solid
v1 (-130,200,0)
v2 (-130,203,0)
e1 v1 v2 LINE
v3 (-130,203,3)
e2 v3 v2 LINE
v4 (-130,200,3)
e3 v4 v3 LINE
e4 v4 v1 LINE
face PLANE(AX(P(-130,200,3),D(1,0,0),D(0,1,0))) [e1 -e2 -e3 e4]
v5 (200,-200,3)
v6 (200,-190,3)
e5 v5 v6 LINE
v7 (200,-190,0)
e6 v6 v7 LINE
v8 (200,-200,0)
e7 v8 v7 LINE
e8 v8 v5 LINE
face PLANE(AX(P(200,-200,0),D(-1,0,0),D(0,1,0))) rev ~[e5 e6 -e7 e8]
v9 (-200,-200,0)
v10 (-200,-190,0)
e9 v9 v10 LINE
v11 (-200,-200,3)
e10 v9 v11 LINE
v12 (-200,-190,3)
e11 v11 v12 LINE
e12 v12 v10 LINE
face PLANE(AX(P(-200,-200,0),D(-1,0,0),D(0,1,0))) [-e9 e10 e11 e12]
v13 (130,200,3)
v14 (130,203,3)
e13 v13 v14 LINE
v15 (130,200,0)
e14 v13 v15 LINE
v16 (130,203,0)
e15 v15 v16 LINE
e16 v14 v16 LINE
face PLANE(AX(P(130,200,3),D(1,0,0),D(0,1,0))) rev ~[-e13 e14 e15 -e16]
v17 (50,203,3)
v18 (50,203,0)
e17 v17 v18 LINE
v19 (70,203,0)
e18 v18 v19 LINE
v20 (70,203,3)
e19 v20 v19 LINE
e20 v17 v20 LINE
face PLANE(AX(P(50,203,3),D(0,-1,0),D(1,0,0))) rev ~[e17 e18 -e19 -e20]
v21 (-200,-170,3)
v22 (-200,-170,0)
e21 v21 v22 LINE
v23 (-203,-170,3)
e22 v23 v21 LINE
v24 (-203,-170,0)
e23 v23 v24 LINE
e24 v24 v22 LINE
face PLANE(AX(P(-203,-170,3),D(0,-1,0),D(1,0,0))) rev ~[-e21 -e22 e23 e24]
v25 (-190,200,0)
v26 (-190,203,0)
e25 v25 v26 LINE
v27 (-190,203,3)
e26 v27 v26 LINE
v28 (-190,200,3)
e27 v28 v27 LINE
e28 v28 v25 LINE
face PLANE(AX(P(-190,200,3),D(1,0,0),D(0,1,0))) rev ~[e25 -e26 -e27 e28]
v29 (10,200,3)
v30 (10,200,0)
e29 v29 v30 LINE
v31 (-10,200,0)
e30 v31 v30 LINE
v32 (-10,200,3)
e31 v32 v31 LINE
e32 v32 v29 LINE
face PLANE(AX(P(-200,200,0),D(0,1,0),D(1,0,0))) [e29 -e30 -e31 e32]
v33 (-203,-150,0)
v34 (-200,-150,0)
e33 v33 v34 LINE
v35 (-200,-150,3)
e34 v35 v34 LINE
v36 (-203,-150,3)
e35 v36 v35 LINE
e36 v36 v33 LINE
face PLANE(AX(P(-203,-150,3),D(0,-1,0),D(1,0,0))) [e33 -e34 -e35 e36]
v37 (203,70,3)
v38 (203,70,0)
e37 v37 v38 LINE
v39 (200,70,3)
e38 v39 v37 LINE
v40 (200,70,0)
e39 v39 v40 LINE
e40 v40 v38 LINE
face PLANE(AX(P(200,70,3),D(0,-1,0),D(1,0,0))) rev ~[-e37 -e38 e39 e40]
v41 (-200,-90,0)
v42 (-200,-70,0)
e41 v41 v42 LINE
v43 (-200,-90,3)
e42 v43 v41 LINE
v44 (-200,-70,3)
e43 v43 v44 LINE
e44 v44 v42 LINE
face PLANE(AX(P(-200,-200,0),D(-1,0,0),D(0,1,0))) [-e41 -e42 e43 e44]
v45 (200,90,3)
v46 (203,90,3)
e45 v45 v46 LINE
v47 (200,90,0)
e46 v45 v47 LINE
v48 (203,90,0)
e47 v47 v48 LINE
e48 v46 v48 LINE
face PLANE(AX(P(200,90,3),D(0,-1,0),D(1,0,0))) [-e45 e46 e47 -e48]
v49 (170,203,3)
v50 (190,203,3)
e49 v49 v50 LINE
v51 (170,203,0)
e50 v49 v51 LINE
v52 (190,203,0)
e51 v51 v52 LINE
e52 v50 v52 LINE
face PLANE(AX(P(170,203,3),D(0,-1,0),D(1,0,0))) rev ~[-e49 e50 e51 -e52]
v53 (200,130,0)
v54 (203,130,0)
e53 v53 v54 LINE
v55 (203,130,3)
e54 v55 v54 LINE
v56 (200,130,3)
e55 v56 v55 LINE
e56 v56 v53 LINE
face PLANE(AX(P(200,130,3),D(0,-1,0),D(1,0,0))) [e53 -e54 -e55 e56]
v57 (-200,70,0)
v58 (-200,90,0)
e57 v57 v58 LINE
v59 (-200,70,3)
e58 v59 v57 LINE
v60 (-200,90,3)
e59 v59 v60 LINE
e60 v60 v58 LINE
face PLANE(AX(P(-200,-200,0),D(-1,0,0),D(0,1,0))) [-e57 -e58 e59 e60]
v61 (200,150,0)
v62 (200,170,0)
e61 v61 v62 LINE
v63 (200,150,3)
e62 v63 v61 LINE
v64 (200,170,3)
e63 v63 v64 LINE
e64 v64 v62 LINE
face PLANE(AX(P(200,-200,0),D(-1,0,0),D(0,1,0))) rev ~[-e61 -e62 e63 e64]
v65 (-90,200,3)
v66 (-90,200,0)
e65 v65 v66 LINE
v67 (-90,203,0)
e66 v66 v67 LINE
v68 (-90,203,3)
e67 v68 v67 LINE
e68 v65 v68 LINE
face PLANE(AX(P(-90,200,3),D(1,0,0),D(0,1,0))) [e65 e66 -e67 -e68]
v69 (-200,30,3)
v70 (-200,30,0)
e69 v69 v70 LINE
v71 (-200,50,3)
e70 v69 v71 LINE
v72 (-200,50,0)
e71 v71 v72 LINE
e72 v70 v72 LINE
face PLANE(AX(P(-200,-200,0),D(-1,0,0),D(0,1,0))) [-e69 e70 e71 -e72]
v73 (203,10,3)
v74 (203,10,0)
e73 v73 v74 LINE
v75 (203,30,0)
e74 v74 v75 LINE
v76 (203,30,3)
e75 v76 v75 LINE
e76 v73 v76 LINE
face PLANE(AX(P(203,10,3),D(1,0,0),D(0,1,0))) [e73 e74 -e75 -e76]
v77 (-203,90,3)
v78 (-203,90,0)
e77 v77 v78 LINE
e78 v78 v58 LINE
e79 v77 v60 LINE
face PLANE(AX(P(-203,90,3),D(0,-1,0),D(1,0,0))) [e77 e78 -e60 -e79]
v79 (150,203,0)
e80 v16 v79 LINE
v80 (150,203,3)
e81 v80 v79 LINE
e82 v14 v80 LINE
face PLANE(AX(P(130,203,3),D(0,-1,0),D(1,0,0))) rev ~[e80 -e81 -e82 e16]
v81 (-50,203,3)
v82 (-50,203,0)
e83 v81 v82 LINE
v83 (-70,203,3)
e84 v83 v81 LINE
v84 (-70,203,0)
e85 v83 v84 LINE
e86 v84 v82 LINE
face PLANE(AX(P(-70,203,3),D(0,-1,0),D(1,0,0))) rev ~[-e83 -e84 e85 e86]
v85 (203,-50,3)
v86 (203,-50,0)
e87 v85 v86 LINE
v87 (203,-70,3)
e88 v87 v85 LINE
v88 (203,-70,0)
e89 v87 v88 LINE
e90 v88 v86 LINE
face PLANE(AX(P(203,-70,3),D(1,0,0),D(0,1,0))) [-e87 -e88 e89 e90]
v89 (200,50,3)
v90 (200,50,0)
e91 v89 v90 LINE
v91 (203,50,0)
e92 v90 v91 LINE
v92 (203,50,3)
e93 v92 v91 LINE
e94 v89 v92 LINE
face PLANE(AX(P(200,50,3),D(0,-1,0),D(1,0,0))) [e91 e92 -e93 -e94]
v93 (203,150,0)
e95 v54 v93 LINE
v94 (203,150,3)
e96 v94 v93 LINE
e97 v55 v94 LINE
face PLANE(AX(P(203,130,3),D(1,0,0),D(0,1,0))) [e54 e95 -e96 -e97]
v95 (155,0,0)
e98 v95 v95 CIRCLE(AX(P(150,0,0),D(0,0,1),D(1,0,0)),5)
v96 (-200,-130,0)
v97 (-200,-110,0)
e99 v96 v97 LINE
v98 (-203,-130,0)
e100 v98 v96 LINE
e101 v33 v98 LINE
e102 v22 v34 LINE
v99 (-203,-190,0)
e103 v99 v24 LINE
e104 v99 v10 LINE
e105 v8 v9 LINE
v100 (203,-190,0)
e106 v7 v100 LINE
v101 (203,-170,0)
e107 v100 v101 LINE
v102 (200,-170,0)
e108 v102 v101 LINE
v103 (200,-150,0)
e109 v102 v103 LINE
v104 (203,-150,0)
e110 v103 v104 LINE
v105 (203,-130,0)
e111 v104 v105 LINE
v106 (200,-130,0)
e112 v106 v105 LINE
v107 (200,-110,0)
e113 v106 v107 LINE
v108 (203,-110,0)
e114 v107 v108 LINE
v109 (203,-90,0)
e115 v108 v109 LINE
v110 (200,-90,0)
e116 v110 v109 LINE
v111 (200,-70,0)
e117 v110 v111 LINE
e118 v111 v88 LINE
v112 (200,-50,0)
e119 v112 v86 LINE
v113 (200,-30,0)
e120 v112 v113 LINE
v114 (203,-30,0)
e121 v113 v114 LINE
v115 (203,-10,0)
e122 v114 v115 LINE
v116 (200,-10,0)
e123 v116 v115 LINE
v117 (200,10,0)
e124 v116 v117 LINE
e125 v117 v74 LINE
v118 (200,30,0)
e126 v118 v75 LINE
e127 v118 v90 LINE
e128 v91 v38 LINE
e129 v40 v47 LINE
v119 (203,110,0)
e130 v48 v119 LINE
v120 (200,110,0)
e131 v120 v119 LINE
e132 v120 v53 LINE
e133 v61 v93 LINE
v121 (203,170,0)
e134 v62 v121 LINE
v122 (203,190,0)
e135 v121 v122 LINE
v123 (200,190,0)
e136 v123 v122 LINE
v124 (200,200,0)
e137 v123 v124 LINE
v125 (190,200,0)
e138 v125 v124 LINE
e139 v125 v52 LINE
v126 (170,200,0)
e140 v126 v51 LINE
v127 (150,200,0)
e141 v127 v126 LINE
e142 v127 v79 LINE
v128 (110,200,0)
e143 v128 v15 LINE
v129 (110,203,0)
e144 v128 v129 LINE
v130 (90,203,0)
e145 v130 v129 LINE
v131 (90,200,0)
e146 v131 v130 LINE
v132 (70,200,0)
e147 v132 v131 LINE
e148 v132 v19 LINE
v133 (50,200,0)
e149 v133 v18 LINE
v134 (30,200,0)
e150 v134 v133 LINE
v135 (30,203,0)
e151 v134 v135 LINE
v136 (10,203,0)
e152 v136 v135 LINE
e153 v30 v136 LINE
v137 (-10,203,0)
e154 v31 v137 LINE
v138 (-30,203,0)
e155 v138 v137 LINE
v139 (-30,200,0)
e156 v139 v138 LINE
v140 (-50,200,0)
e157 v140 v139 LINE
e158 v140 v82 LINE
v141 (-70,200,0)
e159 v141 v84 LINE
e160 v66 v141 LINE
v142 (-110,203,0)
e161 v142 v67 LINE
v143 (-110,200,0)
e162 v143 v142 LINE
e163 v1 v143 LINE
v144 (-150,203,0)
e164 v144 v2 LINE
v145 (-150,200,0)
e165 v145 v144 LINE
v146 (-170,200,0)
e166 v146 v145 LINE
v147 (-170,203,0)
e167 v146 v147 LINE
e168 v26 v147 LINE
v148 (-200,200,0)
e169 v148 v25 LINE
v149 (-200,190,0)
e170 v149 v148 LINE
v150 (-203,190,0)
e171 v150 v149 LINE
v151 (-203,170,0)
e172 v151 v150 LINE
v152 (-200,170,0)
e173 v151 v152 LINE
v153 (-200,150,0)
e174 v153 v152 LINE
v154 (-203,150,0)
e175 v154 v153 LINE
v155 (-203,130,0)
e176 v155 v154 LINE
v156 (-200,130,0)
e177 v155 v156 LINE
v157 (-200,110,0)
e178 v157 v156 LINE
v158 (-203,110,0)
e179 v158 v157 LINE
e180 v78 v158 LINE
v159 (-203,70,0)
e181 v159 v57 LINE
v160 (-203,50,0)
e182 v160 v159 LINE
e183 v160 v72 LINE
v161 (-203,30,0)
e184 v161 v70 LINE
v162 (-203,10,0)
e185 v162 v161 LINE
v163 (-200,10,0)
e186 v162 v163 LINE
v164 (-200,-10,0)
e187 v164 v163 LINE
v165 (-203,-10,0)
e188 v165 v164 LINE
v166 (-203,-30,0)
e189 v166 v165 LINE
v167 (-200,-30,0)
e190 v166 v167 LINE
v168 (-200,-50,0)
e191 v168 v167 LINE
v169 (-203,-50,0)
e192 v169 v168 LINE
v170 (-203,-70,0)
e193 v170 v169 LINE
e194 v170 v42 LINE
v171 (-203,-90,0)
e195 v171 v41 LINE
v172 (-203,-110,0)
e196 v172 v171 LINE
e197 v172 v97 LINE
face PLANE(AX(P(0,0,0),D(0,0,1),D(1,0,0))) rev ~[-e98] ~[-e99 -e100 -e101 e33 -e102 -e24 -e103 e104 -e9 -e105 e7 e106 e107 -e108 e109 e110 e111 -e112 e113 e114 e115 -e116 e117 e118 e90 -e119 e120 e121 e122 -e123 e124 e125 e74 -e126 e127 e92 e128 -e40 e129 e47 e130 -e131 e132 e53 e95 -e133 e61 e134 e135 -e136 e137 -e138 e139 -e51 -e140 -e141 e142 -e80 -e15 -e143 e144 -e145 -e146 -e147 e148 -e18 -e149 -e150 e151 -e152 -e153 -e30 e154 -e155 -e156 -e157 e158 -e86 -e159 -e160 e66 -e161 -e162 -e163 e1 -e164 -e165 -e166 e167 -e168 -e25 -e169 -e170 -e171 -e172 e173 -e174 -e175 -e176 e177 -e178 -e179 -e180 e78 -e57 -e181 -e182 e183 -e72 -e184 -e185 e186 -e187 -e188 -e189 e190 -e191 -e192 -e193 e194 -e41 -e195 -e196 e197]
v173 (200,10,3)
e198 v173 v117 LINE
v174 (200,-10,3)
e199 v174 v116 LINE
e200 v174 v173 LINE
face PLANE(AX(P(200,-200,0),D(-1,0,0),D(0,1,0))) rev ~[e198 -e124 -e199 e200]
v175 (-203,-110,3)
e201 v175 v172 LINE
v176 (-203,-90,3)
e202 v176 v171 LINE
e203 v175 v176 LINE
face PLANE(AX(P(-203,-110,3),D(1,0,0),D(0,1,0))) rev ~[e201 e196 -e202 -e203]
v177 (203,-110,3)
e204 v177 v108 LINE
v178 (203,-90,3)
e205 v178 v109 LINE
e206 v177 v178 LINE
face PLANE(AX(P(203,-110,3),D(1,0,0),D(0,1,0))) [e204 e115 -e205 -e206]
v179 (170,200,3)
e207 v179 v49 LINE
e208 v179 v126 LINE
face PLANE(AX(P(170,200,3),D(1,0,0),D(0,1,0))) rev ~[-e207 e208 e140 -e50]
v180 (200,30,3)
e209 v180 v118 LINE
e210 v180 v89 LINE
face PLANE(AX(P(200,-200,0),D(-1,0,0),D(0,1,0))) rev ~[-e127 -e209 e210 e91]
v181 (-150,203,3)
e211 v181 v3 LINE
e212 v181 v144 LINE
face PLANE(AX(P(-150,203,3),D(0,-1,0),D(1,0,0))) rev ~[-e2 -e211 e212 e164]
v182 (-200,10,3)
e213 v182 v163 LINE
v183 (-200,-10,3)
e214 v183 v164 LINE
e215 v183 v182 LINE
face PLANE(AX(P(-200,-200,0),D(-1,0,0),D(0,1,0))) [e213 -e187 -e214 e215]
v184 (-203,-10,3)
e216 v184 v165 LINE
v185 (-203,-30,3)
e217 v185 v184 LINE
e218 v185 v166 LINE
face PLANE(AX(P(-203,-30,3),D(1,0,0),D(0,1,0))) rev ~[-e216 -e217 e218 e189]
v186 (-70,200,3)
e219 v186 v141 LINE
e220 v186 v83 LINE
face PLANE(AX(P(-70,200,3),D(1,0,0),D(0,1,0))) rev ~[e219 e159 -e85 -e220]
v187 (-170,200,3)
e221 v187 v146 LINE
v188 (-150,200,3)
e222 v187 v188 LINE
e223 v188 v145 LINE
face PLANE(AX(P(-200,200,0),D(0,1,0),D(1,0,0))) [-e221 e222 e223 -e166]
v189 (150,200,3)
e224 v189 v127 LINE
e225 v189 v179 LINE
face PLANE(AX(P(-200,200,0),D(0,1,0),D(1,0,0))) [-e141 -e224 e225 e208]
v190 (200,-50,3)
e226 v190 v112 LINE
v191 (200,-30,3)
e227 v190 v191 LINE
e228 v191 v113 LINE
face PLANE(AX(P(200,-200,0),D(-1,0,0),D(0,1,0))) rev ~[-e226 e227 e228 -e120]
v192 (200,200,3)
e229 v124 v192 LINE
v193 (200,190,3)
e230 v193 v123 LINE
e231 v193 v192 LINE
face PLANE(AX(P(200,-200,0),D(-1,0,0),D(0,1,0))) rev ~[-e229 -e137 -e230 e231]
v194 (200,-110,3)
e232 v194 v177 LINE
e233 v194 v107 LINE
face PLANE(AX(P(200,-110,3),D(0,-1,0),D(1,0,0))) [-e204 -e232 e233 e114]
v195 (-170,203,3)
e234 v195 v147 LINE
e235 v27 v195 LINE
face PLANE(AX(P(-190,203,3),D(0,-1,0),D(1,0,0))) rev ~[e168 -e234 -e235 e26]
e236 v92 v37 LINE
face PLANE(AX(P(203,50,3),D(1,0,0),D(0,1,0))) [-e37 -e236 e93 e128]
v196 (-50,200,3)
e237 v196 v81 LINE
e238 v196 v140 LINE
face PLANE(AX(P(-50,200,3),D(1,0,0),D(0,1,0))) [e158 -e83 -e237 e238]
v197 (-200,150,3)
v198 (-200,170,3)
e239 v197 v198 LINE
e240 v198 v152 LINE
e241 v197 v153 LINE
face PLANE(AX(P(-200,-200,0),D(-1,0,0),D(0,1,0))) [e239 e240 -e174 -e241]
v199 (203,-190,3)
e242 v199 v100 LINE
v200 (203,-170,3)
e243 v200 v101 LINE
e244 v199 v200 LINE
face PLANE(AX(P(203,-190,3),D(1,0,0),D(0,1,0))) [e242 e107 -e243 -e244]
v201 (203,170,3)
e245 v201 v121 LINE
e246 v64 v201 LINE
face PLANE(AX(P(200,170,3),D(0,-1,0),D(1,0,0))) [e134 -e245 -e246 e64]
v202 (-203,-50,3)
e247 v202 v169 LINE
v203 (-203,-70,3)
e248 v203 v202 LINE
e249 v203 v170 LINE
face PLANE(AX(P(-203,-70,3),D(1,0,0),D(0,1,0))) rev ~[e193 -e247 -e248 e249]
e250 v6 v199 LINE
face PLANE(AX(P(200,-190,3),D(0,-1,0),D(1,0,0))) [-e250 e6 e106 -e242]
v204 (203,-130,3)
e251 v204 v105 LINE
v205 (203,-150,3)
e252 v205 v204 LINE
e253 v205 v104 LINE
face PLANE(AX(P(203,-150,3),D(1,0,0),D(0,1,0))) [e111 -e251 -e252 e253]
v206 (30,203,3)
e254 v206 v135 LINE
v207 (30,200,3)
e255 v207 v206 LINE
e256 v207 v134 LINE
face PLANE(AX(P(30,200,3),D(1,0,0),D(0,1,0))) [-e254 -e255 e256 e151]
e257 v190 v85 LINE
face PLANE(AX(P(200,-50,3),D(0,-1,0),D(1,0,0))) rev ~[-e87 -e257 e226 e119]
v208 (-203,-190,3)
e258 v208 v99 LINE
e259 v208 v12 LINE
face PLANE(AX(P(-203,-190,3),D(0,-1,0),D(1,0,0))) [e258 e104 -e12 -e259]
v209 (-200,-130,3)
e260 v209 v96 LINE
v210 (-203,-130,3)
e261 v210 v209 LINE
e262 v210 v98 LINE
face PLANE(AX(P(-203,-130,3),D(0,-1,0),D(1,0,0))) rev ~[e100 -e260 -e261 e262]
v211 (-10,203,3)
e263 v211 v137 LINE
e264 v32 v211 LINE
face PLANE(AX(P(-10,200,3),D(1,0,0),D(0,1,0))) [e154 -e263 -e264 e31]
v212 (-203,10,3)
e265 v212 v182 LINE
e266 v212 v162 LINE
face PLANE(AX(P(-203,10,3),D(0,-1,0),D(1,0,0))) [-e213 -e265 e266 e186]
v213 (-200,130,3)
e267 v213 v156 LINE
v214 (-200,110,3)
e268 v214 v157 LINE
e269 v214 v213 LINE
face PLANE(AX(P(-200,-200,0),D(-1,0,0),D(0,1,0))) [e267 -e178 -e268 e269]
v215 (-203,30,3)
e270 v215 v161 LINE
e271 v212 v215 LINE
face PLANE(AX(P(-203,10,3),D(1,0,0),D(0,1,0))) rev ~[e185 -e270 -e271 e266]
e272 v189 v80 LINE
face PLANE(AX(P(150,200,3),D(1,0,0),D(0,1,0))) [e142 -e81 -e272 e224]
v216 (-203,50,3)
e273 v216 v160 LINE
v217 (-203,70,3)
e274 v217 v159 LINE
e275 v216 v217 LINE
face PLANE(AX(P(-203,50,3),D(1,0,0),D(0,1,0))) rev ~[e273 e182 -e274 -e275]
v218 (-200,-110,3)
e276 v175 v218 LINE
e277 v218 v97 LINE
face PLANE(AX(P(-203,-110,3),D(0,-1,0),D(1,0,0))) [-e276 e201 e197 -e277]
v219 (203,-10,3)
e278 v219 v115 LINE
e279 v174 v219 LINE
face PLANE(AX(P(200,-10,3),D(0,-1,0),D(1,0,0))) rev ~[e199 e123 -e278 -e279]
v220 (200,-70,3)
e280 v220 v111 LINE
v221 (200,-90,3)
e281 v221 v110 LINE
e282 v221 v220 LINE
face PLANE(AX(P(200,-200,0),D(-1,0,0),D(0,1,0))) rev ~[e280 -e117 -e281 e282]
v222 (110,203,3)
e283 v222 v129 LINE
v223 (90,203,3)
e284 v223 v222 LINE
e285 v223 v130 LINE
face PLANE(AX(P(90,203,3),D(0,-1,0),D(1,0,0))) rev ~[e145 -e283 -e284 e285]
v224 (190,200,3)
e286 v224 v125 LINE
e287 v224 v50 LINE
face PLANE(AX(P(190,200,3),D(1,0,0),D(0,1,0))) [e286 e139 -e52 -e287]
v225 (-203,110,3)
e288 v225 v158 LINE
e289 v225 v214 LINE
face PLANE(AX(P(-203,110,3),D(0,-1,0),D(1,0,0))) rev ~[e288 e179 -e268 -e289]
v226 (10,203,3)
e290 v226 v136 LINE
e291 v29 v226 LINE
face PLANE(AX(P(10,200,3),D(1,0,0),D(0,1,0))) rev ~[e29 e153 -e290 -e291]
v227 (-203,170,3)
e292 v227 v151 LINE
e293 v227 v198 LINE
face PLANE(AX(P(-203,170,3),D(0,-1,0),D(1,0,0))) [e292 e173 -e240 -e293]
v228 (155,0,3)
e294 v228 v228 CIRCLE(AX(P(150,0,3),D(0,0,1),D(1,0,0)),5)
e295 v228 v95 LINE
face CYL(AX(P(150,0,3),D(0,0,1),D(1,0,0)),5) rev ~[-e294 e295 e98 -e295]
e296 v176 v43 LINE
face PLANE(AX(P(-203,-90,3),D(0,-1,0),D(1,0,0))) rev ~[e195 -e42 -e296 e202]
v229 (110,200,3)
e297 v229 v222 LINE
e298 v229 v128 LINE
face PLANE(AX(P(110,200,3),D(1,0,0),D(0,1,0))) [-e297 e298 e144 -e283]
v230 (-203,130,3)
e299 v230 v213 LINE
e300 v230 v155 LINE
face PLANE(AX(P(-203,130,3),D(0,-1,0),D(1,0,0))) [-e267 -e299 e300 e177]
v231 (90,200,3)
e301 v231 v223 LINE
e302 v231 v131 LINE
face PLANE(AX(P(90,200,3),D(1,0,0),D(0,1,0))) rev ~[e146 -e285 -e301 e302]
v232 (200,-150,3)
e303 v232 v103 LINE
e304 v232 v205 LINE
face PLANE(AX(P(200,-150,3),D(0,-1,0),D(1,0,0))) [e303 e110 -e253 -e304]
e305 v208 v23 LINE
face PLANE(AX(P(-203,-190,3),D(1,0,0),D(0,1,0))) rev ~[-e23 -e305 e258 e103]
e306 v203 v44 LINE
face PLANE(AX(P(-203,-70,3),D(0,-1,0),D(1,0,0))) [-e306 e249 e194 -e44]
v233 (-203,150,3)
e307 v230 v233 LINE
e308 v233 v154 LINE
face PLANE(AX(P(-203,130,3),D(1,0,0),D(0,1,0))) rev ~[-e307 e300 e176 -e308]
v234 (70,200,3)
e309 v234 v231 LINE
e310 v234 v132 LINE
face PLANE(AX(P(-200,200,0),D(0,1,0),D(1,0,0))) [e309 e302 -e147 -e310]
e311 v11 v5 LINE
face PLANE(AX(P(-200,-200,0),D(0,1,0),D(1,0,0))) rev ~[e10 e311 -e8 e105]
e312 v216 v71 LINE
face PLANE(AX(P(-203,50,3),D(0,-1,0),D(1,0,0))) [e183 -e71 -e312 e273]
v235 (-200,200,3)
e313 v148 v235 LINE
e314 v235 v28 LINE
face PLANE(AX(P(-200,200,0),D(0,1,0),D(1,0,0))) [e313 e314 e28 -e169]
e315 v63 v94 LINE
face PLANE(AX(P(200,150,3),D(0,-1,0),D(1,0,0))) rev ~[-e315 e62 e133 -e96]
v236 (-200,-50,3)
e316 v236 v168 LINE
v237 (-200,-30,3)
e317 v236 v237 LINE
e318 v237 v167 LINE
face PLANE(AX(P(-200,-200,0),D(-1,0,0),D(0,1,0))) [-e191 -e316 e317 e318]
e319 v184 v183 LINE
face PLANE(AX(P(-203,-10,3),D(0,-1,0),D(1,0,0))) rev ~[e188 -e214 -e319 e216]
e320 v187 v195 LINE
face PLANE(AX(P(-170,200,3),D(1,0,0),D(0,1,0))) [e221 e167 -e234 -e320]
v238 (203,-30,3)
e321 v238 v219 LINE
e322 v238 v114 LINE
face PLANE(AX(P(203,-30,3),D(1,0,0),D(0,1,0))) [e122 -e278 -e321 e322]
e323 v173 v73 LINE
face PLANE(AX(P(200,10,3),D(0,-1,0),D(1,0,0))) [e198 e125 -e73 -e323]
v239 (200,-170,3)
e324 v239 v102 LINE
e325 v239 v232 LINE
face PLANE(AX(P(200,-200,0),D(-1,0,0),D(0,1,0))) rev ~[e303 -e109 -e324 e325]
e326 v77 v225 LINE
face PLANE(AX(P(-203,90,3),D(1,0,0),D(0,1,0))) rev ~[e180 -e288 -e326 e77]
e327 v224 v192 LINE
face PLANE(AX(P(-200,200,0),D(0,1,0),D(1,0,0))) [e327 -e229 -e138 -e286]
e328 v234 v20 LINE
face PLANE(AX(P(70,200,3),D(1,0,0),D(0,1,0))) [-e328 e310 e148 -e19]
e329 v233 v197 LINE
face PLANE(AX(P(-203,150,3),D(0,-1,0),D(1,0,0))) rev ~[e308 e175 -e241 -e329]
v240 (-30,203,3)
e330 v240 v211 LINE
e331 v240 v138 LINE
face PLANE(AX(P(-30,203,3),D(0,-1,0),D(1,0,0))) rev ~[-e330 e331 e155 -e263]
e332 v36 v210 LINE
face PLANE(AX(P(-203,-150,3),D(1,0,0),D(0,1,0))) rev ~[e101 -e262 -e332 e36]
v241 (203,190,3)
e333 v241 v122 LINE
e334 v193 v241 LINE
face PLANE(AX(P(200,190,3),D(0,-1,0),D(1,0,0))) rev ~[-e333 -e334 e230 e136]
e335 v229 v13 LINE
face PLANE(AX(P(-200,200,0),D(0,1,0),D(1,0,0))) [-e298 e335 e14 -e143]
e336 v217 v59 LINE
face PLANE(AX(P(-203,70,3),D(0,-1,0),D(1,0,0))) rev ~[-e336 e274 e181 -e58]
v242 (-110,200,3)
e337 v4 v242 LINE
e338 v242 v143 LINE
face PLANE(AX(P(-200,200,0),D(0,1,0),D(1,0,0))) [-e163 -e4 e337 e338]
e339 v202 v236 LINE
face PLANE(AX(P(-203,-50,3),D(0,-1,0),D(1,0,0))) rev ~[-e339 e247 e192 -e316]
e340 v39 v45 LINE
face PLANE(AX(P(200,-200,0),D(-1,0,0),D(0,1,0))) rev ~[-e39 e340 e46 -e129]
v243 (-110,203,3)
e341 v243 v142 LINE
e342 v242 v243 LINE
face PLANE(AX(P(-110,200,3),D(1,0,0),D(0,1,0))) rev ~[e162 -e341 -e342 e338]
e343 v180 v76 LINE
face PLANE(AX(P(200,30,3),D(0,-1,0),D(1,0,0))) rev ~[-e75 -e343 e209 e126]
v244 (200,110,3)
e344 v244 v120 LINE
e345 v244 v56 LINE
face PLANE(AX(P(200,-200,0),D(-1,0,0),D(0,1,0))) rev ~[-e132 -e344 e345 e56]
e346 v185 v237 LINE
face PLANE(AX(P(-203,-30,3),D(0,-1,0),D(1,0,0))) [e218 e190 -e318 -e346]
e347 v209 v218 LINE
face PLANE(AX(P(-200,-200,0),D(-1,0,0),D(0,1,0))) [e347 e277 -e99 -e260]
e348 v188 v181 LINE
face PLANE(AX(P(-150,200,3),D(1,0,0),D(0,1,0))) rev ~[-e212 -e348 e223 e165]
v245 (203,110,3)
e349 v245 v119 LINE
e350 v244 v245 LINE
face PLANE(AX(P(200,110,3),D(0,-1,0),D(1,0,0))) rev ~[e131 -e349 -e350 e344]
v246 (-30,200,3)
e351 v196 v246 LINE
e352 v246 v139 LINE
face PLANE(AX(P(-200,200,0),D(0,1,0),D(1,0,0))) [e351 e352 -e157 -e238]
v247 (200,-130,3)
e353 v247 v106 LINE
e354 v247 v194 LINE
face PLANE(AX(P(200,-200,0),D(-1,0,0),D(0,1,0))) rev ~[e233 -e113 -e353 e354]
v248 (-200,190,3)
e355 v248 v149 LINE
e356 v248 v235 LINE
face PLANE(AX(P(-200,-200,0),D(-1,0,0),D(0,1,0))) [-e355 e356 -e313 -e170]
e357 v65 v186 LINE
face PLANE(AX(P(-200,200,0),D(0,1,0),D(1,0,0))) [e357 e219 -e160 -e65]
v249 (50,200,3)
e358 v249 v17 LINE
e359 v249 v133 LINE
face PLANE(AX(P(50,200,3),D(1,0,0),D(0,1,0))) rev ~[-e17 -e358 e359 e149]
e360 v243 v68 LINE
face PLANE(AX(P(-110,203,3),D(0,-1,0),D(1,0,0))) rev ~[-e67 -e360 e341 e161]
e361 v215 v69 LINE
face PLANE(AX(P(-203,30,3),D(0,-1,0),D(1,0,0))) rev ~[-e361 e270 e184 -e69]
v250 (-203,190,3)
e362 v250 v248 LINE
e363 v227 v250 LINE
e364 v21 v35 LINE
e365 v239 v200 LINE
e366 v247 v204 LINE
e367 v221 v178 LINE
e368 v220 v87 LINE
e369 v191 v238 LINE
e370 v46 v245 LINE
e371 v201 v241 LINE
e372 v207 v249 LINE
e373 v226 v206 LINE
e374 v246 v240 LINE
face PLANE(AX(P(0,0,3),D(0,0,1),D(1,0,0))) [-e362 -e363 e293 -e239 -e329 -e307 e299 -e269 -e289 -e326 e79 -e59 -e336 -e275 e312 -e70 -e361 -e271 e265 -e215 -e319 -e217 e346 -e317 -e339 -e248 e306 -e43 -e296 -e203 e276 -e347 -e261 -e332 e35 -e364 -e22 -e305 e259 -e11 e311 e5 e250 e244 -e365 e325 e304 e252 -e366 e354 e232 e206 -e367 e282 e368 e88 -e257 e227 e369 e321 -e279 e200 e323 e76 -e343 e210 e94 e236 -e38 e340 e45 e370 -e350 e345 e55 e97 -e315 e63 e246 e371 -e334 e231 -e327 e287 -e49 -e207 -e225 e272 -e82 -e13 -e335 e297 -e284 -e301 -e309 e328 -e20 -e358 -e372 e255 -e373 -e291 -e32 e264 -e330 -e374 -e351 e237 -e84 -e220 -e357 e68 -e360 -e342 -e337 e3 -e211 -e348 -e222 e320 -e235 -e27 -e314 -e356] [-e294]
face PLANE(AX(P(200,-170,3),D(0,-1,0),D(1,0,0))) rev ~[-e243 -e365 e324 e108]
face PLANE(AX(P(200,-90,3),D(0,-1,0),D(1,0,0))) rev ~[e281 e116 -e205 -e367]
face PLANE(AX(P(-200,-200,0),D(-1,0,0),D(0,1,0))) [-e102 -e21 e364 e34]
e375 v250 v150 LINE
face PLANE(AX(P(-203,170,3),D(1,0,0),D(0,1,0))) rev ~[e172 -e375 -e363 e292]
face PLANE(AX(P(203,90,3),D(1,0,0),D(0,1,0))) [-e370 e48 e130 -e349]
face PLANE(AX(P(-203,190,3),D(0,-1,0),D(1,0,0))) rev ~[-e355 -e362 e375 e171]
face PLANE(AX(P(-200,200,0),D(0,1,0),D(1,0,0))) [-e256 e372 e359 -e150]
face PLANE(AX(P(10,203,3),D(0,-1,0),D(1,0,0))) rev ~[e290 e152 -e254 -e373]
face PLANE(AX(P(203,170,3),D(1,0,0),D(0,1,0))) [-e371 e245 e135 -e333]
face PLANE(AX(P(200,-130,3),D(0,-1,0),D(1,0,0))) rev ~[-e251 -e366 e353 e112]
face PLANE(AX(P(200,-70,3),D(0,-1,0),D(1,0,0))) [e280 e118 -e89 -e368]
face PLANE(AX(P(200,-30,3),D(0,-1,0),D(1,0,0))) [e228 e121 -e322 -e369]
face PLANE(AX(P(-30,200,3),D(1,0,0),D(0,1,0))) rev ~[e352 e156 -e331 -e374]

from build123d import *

# Parameters (mm, degrees)
F0_W     = 400
F0_H     = 400
F1_DEPTH = 3
F2_W     = 20
F2_H     = 3
F2_W_2   = 3
F2_H_2   = 20
F3_DEPTH = 3
F4_R     = 5
F5_DEPTH = 25
F6_W     = 380
F6_H     = 3
F7_DEPTH = 25


with BuildPart() as f1:
    # F0 (on Top) → F1 (new body)
    with BuildSketch(Plane.XY):
        Rectangle(F0_W, F0_H)
    extrude(amount=F1_DEPTH)

    # F2 (on face) → F3 (join, through all)
    with BuildSketch(Plane.XY.offset(3)):
        with Locations((-180, -201.5)):
            Rectangle(F2_W, F2_H)
        with Locations((-140, -201.5)):
            Rectangle(F2_W, F2_H)
        with Locations((-100, -201.5)):
            Rectangle(F2_W, F2_H)
        with Locations((-60, -201.5)):
            Rectangle(F2_W, F2_H)
        with Locations((-20, -201.5)):
            Rectangle(F2_W, F2_H)
        with Locations((20, -201.5)):
            Rectangle(F2_W, F2_H)
        with Locations((60, -201.5)):
            Rectangle(F2_W, F2_H)
        with Locations((100, -201.5)):
            Rectangle(F2_W, F2_H)
        with Locations((140, -201.5)):
            Rectangle(F2_W, F2_H)
        with Locations((180, -201.5)):
            Rectangle(F2_W, F2_H)
        with Locations((201.5, 100)):
            Rectangle(F2_W_2, F2_H_2)
        with Locations((201.5, 180)):
            Rectangle(F2_W_2, F2_H_2)
        with Locations((201.5, 20)):
            Rectangle(F2_W_2, F2_H_2)
        with Locations((201.5, 140)):
            Rectangle(F2_W_2, F2_H_2)
        with Locations((201.5, -20)):
            Rectangle(F2_W_2, F2_H_2)
        with Locations((201.5, 60)):
            Rectangle(F2_W_2, F2_H_2)
        with Locations((201.5, -60)):
            Rectangle(F2_W_2, F2_H_2)
        with Locations((201.5, -180)):
            Rectangle(F2_W_2, F2_H_2)
        with Locations((201.5, -140)):
            Rectangle(F2_W_2, F2_H_2)
        with Locations((201.5, -100)):
            Rectangle(F2_W_2, F2_H_2)
        with Locations((-100, 201.5)):
            Rectangle(F2_W, F2_H)
        with Locations((-180, 201.5)):
            Rectangle(F2_W, F2_H)
        with Locations((-20, 201.5)):
            Rectangle(F2_W, F2_H)
        with Locations((-140, 201.5)):
            Rectangle(F2_W, F2_H)
        with Locations((20, 201.5)):
            Rectangle(F2_W, F2_H)
        with Locations((-60, 201.5)):
            Rectangle(F2_W, F2_H)
        with Locations((60, 201.5)):
            Rectangle(F2_W, F2_H)
        with Locations((180, 201.5)):
            Rectangle(F2_W, F2_H)
        with Locations((140, 201.5)):
            Rectangle(F2_W, F2_H)
        with Locations((100, 201.5)):
            Rectangle(F2_W, F2_H)
        with Locations((-201.5, -100)):
            Rectangle(F2_W_2, F2_H_2)
        with Locations((-201.5, -180)):
            Rectangle(F2_W_2, F2_H_2)
        with Locations((-201.5, -20)):
            Rectangle(F2_W_2, F2_H_2)
        with Locations((-201.5, -140)):
            Rectangle(F2_W_2, F2_H_2)
        with Locations((-201.5, 20)):
            Rectangle(F2_W_2, F2_H_2)
        with Locations((-201.5, -60)):
            Rectangle(F2_W_2, F2_H_2)
        with Locations((-201.5, 60)):
            Rectangle(F2_W_2, F2_H_2)
        with Locations((-201.5, 180)):
            Rectangle(F2_W_2, F2_H_2)
        with Locations((-201.5, 140)):
            Rectangle(F2_W_2, F2_H_2)
        with Locations((-201.5, 100)):
            Rectangle(F2_W_2, F2_H_2)
    extrude(amount=-F3_DEPTH)

    # F4 (on face) → F5 (cut)
    with BuildSketch(Plane.XY.offset(3)):
        with Locations((150, 0)):
            Circle(F4_R)
    extrude(amount=-F5_DEPTH, mode=Mode.SUBTRACT)

    # F6 (on face) → F7 (cut)
    with BuildSketch(Plane.XY.offset(3)):
        with Locations((0, -201.5)):
            Rectangle(F6_W, F6_H)
    extrude(amount=-F7_DEPTH, mode=Mode.SUBTRACT)


solid = f1.part
